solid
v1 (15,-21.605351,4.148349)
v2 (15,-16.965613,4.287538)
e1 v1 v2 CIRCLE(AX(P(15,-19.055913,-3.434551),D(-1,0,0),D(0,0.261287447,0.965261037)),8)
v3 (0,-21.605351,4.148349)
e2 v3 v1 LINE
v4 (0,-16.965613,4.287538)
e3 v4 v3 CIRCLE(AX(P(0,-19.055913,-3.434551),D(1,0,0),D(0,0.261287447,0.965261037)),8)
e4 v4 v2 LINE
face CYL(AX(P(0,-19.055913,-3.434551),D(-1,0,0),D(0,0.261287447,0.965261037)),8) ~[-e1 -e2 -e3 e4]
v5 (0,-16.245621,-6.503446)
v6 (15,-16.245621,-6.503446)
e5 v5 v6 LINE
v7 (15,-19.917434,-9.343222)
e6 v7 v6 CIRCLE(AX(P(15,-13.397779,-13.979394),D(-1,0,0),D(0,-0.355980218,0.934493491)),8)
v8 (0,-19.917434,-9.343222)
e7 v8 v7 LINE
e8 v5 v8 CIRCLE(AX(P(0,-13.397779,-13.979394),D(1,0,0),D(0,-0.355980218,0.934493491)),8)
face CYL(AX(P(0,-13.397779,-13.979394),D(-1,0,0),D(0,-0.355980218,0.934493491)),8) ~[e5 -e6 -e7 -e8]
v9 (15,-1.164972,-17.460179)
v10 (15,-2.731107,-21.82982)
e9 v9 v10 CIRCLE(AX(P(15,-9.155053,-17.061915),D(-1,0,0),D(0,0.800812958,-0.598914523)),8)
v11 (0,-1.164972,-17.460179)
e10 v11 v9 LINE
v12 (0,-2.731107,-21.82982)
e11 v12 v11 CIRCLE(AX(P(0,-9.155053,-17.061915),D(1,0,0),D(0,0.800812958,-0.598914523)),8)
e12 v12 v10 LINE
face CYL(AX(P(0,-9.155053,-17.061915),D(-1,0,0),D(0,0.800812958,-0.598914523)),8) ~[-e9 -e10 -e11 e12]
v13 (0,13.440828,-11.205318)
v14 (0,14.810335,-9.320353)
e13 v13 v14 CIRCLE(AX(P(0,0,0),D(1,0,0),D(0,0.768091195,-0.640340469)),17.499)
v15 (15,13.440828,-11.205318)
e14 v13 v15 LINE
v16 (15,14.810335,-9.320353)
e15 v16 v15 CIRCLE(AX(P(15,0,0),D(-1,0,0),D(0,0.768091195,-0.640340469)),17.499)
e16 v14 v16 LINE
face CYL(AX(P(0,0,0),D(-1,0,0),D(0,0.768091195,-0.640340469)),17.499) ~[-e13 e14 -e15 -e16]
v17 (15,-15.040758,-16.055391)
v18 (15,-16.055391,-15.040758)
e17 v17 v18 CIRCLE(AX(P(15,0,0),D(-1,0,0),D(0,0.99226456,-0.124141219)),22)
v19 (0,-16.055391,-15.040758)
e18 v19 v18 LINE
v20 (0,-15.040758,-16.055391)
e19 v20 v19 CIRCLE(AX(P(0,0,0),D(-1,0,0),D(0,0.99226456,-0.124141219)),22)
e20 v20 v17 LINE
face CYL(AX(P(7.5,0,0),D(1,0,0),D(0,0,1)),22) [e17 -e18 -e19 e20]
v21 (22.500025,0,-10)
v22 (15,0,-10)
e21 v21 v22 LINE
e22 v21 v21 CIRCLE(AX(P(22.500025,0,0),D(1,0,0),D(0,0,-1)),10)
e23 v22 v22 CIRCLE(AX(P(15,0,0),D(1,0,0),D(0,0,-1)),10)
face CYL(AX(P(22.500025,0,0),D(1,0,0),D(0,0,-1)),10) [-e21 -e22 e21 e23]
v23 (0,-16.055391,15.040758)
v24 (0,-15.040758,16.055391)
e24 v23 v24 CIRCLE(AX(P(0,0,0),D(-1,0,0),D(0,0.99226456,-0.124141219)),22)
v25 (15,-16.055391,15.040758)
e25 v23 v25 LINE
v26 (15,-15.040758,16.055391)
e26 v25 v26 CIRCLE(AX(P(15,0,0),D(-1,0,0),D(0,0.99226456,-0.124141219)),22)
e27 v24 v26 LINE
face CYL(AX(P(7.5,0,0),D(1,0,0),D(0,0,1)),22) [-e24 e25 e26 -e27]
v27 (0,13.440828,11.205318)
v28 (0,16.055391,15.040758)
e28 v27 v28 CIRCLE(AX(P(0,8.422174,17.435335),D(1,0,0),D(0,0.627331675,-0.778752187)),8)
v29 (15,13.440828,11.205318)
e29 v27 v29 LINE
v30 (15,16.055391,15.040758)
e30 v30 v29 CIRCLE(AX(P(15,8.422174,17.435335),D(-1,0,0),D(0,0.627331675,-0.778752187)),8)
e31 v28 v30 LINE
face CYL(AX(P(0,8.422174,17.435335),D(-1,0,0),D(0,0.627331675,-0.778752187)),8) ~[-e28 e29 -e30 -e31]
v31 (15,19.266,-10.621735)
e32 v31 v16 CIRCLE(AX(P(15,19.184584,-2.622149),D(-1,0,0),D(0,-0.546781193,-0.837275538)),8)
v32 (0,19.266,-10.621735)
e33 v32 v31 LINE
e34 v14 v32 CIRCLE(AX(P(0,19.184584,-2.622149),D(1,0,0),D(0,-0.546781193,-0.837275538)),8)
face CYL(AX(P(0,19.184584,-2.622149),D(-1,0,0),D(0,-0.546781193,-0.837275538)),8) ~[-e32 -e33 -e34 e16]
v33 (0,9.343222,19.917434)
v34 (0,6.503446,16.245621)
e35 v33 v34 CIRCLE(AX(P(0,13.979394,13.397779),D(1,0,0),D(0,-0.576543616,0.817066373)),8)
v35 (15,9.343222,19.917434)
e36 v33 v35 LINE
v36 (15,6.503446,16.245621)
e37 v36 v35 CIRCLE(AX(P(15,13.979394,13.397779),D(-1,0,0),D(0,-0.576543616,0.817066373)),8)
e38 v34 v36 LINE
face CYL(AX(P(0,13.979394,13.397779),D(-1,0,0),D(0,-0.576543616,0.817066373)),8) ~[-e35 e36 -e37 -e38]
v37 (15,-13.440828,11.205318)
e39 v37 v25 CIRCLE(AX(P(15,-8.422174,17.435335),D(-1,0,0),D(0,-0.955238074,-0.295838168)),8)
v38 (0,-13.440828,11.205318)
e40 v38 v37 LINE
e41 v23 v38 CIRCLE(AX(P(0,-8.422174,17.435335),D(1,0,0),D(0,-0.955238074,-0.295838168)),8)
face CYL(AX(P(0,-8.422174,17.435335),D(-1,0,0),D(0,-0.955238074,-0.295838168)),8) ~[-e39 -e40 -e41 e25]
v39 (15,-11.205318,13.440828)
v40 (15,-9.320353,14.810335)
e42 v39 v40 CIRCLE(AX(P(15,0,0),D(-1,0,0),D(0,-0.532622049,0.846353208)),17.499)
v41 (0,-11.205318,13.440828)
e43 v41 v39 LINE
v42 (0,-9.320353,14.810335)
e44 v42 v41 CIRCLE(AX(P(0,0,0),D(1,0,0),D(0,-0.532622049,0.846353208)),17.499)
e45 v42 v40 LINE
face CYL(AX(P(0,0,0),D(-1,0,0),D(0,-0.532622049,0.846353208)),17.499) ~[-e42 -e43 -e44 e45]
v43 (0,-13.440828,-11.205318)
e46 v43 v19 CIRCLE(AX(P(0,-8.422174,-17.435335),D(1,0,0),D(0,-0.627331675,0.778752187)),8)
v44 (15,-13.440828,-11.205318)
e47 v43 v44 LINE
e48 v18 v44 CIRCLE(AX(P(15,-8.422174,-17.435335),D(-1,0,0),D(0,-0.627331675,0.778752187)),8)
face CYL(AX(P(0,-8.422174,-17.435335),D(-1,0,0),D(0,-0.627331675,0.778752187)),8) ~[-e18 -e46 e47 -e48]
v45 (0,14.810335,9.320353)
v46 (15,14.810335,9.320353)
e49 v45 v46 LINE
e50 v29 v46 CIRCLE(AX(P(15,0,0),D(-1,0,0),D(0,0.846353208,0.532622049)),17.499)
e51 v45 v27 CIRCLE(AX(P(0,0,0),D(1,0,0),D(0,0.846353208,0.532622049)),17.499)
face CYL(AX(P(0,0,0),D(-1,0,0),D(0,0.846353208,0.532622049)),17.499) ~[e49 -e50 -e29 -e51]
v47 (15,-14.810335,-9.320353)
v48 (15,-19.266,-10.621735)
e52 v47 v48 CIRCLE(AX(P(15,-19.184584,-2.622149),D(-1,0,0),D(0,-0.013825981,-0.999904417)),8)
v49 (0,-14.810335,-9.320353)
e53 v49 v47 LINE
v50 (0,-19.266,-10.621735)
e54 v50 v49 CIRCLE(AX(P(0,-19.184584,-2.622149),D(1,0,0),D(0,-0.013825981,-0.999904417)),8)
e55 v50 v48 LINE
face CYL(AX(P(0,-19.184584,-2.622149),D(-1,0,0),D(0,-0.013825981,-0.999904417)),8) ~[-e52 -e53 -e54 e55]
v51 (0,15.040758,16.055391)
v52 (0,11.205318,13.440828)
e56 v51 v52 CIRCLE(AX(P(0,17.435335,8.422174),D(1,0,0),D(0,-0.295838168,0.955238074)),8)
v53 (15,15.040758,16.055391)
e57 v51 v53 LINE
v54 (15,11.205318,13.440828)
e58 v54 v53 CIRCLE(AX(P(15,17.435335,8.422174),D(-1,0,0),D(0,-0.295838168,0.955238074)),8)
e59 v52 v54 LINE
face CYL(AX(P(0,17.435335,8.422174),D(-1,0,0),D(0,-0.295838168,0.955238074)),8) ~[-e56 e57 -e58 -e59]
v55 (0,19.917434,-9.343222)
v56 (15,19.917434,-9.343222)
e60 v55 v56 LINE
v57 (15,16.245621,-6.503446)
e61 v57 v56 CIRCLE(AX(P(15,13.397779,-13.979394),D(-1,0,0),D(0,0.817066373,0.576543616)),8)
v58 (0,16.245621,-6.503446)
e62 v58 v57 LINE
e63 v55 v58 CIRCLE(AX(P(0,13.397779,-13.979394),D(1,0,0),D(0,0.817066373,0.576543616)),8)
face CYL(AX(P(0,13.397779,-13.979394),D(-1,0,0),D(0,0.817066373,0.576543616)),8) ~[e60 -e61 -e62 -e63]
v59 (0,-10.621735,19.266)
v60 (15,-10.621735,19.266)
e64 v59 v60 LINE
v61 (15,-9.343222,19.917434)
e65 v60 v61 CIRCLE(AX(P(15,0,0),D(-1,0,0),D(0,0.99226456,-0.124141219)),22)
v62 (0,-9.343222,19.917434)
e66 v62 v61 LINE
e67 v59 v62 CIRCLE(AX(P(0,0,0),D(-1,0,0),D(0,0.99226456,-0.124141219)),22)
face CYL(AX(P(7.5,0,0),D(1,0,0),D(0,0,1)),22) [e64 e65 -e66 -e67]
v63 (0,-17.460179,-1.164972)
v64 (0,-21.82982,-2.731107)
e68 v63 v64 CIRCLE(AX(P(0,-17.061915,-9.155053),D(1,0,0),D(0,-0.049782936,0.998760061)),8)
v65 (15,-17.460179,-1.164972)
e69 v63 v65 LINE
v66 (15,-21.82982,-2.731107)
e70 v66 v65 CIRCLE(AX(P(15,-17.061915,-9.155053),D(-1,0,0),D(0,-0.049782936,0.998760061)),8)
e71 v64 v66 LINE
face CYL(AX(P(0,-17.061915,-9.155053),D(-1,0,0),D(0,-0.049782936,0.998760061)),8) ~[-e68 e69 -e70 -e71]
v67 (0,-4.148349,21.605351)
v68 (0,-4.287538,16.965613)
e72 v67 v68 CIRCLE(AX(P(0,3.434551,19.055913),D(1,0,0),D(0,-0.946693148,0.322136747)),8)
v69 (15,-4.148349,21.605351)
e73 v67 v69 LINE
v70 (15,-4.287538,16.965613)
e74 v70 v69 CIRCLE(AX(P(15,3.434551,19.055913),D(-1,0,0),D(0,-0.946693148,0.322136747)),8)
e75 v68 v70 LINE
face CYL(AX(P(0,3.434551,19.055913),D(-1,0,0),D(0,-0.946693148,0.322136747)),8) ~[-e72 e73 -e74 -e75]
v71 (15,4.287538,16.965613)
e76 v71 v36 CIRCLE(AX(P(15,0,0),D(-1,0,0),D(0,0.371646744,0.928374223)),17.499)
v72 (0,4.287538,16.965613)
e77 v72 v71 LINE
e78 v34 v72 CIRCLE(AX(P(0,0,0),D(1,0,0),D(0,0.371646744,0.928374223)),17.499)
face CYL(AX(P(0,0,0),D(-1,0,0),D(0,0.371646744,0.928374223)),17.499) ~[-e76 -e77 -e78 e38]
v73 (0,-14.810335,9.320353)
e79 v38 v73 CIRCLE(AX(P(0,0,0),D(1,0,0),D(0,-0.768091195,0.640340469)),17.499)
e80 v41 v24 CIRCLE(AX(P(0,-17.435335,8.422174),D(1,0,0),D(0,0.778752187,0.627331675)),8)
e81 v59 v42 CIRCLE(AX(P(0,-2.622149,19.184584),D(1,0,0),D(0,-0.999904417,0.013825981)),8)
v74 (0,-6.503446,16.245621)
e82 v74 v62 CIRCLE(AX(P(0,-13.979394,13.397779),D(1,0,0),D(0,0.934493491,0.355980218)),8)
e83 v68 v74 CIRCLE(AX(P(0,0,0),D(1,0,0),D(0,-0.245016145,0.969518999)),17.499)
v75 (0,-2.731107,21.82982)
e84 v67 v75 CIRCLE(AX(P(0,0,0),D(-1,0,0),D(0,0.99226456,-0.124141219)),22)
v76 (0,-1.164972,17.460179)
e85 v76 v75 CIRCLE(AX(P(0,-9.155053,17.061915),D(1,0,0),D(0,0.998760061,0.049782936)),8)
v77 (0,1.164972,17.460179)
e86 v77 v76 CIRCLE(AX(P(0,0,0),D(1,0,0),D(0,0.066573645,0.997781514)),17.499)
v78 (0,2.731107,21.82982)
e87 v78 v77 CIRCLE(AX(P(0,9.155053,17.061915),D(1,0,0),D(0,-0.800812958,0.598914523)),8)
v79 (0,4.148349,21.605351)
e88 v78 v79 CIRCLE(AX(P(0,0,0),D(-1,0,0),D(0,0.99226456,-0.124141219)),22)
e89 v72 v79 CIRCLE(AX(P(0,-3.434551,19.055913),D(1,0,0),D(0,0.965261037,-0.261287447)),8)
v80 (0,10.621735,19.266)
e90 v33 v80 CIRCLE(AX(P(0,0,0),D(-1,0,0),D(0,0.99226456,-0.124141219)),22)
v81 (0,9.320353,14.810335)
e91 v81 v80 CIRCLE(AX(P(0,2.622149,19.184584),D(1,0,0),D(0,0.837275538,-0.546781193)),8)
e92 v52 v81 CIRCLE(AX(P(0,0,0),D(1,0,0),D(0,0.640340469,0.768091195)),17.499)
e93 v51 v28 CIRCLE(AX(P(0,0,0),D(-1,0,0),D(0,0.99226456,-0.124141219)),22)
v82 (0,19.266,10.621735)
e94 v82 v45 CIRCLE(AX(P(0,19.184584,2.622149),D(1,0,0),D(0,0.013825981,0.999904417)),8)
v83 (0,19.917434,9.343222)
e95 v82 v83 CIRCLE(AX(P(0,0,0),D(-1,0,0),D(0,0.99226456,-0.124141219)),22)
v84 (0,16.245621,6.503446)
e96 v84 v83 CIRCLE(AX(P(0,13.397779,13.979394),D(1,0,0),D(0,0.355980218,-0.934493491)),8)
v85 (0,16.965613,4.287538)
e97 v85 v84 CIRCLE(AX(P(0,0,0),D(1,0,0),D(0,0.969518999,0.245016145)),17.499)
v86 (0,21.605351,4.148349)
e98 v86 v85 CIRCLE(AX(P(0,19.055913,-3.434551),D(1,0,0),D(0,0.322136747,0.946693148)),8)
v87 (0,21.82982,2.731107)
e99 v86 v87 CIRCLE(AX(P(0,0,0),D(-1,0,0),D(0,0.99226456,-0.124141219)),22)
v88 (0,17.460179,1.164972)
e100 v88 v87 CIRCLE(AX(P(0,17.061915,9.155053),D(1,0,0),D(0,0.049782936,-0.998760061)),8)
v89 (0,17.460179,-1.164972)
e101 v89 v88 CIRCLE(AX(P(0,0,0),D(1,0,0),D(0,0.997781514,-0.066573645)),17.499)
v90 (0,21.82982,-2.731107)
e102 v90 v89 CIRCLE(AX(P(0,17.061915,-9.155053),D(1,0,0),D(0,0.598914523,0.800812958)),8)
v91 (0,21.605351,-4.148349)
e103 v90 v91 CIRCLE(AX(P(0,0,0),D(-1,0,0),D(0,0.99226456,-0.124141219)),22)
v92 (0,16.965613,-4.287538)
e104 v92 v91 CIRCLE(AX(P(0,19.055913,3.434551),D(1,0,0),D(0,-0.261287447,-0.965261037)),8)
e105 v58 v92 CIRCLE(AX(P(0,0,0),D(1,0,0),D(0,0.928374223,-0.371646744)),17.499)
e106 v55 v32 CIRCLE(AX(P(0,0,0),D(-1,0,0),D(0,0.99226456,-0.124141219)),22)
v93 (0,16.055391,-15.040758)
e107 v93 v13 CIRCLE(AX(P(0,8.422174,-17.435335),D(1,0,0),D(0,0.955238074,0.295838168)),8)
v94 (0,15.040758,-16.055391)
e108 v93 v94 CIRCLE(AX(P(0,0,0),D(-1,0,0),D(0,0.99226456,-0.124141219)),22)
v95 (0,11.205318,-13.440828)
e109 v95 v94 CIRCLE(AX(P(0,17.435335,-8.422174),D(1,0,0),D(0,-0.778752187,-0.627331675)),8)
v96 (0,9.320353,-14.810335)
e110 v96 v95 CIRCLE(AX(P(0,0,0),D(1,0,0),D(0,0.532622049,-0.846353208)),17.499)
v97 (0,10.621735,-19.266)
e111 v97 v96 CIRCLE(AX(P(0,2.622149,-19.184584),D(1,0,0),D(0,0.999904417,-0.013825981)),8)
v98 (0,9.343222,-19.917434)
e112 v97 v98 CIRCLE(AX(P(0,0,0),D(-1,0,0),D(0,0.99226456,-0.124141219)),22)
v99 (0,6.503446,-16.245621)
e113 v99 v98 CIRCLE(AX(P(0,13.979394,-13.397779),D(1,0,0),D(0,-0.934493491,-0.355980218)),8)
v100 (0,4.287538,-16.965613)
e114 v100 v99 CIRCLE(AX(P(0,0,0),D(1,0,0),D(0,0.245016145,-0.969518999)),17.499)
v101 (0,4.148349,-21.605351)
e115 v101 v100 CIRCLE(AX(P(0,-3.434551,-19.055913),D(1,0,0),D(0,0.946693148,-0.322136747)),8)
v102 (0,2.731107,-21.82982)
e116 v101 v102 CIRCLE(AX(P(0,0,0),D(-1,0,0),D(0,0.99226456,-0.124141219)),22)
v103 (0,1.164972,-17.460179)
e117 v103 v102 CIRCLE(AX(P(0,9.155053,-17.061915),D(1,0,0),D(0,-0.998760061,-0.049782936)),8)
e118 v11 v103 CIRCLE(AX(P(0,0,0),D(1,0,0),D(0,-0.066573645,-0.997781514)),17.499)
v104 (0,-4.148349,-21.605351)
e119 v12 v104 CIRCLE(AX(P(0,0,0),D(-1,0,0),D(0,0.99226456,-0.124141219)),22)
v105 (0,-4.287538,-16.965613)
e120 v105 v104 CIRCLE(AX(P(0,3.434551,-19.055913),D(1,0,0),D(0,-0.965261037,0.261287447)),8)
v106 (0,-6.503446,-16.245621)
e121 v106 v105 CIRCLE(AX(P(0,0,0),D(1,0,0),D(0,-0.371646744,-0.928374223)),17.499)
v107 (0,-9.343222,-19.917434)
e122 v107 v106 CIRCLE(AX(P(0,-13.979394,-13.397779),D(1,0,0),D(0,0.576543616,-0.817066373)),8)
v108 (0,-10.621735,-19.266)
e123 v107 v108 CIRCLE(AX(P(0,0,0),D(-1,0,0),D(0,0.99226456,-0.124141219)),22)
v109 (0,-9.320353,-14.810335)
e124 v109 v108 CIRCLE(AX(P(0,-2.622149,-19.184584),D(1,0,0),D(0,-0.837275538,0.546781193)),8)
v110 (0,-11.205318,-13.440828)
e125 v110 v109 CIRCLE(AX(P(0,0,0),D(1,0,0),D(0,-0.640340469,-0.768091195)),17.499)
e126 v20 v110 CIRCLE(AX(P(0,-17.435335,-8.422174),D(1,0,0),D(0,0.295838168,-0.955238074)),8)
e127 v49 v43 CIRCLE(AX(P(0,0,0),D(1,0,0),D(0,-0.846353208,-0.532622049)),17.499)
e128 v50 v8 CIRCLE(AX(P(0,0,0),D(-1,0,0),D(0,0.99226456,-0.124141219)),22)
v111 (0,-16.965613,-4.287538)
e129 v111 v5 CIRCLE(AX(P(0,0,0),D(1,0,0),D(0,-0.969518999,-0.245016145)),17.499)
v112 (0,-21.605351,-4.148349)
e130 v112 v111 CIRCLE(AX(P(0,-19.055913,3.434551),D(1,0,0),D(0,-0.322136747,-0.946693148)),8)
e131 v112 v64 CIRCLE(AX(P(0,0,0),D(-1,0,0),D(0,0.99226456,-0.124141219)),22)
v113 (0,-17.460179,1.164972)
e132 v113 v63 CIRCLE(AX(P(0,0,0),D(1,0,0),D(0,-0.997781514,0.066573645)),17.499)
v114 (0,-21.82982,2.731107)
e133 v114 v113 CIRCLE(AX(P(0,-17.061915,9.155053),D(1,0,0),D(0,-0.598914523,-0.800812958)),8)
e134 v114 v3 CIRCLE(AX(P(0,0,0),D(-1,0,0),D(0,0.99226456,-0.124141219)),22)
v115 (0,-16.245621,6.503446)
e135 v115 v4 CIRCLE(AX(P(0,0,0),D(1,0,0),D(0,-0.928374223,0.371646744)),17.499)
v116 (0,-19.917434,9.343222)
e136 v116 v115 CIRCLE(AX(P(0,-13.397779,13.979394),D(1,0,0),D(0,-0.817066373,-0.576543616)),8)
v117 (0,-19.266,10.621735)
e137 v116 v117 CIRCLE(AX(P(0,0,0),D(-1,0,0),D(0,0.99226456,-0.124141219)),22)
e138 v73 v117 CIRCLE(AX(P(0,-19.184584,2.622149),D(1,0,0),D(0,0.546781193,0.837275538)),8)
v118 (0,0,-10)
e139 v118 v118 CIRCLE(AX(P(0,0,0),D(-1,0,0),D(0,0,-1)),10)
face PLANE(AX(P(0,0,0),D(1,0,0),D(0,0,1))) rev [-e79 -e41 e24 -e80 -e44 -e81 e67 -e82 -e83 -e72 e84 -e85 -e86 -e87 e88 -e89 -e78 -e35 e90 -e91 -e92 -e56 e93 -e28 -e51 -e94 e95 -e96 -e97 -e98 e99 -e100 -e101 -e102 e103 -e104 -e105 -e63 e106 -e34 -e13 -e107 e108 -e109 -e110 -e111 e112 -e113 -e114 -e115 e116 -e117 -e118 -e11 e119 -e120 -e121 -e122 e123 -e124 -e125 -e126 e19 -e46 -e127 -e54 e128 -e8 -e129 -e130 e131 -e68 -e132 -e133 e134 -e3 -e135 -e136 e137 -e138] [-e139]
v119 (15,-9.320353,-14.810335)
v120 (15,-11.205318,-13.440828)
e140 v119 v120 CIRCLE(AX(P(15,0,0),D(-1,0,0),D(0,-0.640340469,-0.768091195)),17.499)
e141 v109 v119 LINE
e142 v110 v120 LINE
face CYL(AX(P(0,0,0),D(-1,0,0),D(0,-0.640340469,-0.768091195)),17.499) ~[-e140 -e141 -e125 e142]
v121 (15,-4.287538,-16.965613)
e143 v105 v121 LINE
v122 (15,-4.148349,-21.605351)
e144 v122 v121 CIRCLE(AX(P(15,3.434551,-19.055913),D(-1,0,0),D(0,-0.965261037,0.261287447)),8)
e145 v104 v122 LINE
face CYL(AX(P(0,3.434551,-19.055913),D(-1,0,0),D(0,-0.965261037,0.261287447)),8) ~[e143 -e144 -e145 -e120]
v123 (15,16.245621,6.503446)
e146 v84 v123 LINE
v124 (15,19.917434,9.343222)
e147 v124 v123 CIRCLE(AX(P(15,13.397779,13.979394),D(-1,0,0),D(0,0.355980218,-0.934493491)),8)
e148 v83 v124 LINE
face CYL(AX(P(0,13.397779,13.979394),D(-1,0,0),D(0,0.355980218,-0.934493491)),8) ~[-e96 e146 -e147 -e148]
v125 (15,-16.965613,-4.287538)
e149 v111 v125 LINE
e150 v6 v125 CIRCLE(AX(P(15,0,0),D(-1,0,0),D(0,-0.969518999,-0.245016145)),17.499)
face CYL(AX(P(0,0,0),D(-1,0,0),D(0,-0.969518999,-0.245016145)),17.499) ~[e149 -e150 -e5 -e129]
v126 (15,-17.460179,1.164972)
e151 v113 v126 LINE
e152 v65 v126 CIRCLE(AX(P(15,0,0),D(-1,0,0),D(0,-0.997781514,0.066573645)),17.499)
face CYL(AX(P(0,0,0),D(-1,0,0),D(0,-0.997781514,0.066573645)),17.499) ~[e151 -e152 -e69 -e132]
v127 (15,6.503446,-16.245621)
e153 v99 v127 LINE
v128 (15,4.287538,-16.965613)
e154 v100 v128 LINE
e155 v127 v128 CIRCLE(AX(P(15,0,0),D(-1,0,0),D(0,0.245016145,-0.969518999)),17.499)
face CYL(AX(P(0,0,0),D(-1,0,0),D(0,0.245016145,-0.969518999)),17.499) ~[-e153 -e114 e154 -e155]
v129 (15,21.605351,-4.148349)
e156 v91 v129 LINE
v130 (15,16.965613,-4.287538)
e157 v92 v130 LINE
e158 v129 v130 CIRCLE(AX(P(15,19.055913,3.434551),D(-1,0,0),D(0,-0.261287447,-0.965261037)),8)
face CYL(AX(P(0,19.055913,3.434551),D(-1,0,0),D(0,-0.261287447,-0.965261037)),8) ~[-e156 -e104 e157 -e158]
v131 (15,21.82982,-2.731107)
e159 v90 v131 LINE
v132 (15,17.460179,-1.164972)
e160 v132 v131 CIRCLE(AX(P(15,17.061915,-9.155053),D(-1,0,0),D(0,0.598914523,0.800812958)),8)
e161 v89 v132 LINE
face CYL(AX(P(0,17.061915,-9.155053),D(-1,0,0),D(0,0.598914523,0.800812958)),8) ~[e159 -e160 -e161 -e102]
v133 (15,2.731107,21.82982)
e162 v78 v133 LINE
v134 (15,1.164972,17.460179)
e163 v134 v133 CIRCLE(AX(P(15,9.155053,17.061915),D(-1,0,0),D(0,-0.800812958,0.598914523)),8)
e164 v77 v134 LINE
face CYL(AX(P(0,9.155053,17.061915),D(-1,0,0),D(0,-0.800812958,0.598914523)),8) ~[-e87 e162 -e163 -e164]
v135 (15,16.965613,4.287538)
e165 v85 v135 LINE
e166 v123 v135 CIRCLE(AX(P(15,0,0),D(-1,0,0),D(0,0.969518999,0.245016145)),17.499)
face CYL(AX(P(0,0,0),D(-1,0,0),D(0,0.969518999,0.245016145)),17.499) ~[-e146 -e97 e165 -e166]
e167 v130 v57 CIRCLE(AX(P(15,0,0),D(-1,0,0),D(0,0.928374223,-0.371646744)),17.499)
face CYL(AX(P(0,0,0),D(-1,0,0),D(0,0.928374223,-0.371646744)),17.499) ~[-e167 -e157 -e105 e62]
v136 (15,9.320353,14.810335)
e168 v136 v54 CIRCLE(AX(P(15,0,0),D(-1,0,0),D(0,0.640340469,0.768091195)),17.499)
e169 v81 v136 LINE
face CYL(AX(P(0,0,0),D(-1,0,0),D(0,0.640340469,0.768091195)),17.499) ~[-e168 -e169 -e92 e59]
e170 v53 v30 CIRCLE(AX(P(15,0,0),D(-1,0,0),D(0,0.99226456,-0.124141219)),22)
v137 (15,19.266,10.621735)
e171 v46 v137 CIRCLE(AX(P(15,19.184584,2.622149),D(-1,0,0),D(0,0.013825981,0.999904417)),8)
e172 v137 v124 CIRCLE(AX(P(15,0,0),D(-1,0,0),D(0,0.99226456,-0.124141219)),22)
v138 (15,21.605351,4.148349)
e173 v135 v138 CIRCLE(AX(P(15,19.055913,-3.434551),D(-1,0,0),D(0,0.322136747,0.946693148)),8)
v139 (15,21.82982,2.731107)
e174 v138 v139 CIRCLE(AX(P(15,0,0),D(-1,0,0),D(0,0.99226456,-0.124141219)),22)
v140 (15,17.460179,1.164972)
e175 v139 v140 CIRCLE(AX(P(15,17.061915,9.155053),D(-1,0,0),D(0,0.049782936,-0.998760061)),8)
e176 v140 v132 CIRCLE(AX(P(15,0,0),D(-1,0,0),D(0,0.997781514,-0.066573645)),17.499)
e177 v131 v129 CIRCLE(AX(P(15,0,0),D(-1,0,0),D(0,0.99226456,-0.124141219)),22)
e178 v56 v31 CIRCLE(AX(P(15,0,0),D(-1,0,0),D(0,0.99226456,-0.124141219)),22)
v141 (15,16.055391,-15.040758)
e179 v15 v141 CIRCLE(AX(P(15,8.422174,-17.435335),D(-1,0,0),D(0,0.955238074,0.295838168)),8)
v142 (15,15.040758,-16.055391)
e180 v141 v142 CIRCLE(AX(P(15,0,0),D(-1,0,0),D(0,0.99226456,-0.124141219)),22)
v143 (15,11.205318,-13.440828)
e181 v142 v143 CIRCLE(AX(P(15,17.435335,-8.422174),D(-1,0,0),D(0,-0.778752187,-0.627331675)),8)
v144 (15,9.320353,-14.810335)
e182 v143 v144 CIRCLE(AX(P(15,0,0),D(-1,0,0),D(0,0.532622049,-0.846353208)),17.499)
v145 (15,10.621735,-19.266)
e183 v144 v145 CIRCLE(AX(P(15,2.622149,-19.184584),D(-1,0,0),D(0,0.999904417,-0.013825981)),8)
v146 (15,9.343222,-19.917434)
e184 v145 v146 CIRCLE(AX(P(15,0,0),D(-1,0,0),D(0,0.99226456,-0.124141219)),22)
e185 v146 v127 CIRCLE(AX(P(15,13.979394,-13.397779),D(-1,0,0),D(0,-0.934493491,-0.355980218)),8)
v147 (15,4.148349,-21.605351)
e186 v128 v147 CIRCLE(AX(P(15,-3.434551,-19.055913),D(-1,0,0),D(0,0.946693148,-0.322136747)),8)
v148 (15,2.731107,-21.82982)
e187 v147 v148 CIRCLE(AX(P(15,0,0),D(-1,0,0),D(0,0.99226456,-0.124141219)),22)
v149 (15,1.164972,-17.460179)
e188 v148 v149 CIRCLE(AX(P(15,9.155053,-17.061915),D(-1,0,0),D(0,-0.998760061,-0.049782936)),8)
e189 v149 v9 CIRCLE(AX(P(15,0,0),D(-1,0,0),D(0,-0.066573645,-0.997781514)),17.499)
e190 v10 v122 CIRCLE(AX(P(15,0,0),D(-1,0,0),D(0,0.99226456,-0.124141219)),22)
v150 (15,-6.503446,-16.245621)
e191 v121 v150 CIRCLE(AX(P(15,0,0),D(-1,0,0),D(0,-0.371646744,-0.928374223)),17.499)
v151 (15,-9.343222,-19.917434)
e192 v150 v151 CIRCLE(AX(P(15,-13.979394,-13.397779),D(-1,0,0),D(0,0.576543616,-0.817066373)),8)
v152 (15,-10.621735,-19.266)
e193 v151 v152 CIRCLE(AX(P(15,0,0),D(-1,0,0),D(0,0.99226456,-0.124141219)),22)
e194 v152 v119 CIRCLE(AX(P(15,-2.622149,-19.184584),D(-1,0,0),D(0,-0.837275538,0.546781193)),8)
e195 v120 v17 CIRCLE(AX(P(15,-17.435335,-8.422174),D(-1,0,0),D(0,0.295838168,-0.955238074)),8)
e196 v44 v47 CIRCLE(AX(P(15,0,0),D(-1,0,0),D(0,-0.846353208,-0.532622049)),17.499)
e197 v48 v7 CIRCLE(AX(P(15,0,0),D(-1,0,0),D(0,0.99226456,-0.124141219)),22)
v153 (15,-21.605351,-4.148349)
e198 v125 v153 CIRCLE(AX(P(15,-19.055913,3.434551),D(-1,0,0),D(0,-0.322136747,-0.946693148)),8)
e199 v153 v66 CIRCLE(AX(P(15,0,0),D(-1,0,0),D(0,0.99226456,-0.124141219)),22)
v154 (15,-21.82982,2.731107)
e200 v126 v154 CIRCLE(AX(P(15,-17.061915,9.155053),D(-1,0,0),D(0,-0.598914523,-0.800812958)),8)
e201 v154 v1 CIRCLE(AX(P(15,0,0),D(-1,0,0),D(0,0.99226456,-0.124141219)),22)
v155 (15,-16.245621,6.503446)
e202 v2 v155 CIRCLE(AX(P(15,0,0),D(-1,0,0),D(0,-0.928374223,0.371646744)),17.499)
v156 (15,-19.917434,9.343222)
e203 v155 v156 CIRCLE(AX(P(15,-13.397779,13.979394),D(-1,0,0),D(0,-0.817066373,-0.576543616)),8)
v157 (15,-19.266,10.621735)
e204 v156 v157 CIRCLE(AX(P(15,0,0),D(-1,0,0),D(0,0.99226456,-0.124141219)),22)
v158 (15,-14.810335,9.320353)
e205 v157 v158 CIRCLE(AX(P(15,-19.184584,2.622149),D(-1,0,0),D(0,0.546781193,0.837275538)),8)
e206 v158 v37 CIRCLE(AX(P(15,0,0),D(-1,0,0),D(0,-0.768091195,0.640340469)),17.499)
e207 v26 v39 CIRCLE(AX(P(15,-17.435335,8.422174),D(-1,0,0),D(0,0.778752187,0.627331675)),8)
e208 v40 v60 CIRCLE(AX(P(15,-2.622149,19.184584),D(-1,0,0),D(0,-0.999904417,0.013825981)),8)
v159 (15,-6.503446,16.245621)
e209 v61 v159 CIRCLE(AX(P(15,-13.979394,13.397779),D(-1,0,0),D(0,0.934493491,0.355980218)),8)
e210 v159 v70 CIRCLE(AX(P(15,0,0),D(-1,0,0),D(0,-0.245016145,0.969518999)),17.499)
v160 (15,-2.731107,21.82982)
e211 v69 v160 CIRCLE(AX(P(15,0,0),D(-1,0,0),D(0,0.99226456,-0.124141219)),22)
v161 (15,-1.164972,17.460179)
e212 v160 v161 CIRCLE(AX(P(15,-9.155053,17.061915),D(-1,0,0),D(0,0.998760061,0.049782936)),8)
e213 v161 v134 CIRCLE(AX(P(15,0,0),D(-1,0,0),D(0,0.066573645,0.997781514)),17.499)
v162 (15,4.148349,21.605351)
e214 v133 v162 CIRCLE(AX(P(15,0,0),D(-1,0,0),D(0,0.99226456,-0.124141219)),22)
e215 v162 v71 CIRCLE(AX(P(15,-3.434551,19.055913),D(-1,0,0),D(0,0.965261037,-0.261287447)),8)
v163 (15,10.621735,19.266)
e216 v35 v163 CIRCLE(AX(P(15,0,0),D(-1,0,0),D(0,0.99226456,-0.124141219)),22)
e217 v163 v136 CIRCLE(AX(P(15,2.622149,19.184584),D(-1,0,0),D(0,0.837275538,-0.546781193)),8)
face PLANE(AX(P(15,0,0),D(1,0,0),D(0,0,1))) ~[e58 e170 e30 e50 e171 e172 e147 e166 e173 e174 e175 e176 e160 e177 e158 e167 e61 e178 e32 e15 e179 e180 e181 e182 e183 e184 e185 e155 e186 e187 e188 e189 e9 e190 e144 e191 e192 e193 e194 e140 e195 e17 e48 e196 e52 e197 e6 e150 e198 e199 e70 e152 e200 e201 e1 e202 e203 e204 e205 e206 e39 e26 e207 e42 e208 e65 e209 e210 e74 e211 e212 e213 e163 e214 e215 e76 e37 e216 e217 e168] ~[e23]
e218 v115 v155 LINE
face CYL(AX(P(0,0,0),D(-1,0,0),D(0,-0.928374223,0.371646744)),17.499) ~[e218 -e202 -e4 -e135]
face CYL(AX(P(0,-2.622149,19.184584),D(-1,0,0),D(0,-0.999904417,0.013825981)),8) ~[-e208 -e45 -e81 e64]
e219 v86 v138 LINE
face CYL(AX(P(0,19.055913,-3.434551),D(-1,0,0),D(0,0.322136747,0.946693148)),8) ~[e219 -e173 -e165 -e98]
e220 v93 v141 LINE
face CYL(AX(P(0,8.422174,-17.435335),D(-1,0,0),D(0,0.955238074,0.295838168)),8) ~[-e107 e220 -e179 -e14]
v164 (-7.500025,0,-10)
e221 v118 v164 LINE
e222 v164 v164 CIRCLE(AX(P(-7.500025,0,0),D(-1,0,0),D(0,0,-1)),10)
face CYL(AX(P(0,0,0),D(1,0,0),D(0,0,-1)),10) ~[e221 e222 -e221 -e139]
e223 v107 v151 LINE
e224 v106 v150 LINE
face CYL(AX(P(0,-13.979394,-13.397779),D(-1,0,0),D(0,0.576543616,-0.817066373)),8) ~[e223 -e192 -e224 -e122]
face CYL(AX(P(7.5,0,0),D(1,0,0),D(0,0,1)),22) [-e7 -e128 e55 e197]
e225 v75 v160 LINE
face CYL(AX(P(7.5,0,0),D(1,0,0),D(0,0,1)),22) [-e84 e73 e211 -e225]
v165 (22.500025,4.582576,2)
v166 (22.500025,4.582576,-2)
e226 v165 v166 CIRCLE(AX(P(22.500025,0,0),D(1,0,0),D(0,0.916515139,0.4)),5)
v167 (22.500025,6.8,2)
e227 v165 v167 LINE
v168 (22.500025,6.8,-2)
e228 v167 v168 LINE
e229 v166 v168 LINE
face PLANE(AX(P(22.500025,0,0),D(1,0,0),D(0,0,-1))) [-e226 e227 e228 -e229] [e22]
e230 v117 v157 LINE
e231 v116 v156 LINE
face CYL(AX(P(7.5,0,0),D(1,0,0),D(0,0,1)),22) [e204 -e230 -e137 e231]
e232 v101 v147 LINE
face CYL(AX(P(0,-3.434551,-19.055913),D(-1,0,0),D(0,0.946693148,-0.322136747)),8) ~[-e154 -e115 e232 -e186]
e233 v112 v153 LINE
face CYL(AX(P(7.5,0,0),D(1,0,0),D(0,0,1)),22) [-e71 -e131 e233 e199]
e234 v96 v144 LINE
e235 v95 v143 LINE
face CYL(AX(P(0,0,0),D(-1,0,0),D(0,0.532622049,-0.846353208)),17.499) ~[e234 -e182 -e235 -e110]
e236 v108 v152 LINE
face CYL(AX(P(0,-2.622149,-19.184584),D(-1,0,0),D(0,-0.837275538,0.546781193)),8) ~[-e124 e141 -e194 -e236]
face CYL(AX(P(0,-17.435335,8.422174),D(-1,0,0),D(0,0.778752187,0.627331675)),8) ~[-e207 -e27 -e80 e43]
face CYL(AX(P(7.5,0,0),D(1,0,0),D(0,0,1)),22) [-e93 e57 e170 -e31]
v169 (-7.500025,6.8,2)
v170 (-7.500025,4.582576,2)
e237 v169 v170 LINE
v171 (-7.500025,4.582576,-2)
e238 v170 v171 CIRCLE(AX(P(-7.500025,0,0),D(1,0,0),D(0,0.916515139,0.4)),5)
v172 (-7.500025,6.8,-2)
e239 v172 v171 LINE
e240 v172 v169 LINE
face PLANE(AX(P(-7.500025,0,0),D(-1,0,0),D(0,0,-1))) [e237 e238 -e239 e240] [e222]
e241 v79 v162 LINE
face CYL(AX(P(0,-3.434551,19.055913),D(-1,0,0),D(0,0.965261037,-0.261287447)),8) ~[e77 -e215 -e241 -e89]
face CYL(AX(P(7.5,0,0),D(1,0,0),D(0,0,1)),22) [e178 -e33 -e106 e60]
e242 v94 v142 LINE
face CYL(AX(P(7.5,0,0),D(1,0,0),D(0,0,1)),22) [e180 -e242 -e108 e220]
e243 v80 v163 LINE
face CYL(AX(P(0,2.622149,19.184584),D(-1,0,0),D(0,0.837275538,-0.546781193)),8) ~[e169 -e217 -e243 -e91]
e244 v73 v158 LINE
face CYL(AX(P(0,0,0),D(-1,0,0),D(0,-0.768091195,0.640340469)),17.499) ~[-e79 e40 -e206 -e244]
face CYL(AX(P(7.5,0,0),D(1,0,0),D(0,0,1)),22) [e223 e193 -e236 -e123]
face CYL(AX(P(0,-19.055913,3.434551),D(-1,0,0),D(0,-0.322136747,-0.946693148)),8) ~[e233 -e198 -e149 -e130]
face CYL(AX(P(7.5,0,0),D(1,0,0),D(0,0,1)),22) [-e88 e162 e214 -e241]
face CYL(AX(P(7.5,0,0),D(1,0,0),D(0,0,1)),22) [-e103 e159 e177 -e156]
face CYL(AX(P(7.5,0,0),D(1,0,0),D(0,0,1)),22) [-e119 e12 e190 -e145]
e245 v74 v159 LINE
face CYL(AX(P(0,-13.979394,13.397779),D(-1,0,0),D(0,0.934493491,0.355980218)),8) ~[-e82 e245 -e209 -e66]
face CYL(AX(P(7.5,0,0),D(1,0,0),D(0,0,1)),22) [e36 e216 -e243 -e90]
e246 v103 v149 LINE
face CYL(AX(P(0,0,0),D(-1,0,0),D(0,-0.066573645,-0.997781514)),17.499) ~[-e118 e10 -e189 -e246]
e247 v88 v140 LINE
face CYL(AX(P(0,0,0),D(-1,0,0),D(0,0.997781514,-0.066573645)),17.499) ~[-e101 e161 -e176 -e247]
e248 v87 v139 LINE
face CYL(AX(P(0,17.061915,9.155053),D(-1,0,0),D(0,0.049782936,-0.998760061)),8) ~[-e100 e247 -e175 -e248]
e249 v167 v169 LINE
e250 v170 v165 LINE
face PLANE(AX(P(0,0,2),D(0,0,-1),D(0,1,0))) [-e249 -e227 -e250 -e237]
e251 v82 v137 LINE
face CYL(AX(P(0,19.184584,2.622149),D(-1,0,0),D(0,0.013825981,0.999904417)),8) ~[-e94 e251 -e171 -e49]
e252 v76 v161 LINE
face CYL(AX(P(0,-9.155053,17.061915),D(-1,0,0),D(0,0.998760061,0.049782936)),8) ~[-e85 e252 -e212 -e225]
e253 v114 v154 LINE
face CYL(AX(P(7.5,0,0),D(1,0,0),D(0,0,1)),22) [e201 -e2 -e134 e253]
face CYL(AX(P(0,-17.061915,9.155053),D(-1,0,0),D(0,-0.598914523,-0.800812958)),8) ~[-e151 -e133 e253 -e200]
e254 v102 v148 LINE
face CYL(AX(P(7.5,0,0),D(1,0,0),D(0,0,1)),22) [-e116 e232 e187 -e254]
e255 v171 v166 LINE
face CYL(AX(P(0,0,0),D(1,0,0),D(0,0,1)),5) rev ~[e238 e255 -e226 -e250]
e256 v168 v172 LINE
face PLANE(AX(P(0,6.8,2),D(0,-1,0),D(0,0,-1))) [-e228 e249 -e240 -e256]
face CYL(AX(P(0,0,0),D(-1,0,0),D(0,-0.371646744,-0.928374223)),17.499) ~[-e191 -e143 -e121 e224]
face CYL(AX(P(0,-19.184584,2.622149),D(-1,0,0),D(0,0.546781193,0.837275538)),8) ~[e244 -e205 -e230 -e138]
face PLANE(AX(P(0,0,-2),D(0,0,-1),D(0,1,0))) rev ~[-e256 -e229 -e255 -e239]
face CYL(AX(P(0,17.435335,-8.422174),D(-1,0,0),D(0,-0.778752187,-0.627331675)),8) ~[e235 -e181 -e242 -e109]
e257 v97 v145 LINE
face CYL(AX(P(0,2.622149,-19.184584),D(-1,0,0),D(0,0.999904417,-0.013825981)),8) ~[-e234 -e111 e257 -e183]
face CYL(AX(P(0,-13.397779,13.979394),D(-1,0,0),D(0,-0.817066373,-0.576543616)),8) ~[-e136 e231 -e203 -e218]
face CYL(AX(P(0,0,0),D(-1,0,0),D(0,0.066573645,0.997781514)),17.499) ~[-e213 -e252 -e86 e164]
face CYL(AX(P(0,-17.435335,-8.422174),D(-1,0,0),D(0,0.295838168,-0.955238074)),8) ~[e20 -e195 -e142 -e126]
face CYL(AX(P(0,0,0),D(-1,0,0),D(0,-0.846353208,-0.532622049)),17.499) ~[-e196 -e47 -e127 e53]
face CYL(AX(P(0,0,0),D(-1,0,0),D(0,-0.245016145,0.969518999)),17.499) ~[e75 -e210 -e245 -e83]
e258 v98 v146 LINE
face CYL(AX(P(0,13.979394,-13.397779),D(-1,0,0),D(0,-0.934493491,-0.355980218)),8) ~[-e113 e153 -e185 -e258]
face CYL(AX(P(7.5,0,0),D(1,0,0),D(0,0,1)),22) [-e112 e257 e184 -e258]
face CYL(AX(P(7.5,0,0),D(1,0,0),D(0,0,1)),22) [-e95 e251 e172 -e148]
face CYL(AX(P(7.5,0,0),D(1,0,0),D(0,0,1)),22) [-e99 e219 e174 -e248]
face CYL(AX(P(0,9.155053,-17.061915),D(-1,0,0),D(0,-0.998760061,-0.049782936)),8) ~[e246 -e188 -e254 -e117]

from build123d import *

# Parameters (mm, degrees)
BASPROSKE_W       = 15
BASPROSKE_H       = 22
TOOTHCUT_DEPTH    = 35.539832078
TEETHCUTS_COUNT   = 20
TEETHCUTS_ANGLE   = 342
HUBNEABOTSKE_R    = 10
HUBNEARBOTH_DEPTH = 7.5000254
HUBFAR_START      = 7.5000254
HUBFARSKE_R       = 10
HUBFAR_DEPTH      = 7.5000254
BORSKE_R          = 5
BORE_DEPTH        = 30.0000508
KEYSKE_W          = 4
KEYSKE_H          = 6.8
KEYWAY_DEPTH      = 30.0000508


with BuildPart() as part:
    # BasProSke → Base-Revolve (revolve)
    with BuildSketch(Plane(origin=(0, 0, 0), x_dir=(1, 0, 0), z_dir=(0, 1, 0)), mode=Mode.PRIVATE) as base_revolve_sk:
        with Locations((7.5, 11)):
            Rectangle(BASPROSKE_W, BASPROSKE_H)
    revolve(base_revolve_sk.sketch.rotate(Axis((-10, 0, 0), (1, 0, 0)), 180), axis=Axis((-10, 0, 0), (1, 0, 0)))

    # TooCutSke → ToothCut (cut, through all)
    with BuildSketch(Plane(origin=(0, 0, 0), x_dir=(0, 0, -1), z_dir=(1, 0, 0))):
        with BuildLine():
            ThreePointArc((1.164972225, 17.460178714), (0, 17.499), (-1.164972225, 17.460178714))
            ThreePointArc((-1.164972225, 17.460178714), (-1.629088534, 19.774822006), (-2.748549048, 21.853231415))
            ThreePointArc((-2.748549048, 21.853231415), (0, 22.0254), (2.748549048, 21.853231415))
            ThreePointArc((2.748549048, 21.853231415), (1.629088534, 19.774822006), (1.164972225, 17.460178714))
        make_face()
    toothcut = extrude(amount=TOOTHCUT_DEPTH, mode=Mode.SUBTRACT)

    # TeethCuts: ToothCut ×20 about axis
    teethcuts_axis = Axis((-10, 0, 0), (1, 0, 0))
    for i in range(1, TEETHCUTS_COUNT):
        add(toothcut.rotate(teethcuts_axis, i * TEETHCUTS_ANGLE / (TEETHCUTS_COUNT - 1)), mode=Mode.SUBTRACT)

    # HubNeaBotSke → HubNearBoth (add)
    with BuildSketch(Plane.ZY):
        with Locations(Location((0, 0, 0), (0, 0, 180))):
            Circle(HUBNEABOTSKE_R)
    extrude(amount=HUBNEARBOTH_DEPTH)

    # HubFarSke → HubFar (add)
    with BuildSketch(Plane(origin=(15, 0, 0), x_dir=(0, 0, -1), z_dir=(1, 0, 0)).offset(HUBFAR_START)):
        Circle(HUBFARSKE_R)
    extrude(amount=-HUBFAR_DEPTH)

    # BorSke → Bore (cut, symmetric)
    with BuildSketch(Plane(origin=(0, 0, 0), x_dir=(0, 0, -1), z_dir=(1, 0, 0))):
        with Locations(Location((0, 0, 0), (0, 0, 180))):
            Circle(BORSKE_R)
    extrude(amount=BORE_DEPTH, both=True, mode=Mode.SUBTRACT)

    # KeySke → Keyway (cut, symmetric)
    with BuildSketch(Plane(origin=(0, 0, 0), x_dir=(0, 0, -1), z_dir=(1, 0, 0))):
        with Locations((0, 3.4)):
            Rectangle(KEYSKE_W, KEYSKE_H)
    extrude(amount=KEYWAY_DEPTH, both=True, mode=Mode.SUBTRACT)


solid = part.part
